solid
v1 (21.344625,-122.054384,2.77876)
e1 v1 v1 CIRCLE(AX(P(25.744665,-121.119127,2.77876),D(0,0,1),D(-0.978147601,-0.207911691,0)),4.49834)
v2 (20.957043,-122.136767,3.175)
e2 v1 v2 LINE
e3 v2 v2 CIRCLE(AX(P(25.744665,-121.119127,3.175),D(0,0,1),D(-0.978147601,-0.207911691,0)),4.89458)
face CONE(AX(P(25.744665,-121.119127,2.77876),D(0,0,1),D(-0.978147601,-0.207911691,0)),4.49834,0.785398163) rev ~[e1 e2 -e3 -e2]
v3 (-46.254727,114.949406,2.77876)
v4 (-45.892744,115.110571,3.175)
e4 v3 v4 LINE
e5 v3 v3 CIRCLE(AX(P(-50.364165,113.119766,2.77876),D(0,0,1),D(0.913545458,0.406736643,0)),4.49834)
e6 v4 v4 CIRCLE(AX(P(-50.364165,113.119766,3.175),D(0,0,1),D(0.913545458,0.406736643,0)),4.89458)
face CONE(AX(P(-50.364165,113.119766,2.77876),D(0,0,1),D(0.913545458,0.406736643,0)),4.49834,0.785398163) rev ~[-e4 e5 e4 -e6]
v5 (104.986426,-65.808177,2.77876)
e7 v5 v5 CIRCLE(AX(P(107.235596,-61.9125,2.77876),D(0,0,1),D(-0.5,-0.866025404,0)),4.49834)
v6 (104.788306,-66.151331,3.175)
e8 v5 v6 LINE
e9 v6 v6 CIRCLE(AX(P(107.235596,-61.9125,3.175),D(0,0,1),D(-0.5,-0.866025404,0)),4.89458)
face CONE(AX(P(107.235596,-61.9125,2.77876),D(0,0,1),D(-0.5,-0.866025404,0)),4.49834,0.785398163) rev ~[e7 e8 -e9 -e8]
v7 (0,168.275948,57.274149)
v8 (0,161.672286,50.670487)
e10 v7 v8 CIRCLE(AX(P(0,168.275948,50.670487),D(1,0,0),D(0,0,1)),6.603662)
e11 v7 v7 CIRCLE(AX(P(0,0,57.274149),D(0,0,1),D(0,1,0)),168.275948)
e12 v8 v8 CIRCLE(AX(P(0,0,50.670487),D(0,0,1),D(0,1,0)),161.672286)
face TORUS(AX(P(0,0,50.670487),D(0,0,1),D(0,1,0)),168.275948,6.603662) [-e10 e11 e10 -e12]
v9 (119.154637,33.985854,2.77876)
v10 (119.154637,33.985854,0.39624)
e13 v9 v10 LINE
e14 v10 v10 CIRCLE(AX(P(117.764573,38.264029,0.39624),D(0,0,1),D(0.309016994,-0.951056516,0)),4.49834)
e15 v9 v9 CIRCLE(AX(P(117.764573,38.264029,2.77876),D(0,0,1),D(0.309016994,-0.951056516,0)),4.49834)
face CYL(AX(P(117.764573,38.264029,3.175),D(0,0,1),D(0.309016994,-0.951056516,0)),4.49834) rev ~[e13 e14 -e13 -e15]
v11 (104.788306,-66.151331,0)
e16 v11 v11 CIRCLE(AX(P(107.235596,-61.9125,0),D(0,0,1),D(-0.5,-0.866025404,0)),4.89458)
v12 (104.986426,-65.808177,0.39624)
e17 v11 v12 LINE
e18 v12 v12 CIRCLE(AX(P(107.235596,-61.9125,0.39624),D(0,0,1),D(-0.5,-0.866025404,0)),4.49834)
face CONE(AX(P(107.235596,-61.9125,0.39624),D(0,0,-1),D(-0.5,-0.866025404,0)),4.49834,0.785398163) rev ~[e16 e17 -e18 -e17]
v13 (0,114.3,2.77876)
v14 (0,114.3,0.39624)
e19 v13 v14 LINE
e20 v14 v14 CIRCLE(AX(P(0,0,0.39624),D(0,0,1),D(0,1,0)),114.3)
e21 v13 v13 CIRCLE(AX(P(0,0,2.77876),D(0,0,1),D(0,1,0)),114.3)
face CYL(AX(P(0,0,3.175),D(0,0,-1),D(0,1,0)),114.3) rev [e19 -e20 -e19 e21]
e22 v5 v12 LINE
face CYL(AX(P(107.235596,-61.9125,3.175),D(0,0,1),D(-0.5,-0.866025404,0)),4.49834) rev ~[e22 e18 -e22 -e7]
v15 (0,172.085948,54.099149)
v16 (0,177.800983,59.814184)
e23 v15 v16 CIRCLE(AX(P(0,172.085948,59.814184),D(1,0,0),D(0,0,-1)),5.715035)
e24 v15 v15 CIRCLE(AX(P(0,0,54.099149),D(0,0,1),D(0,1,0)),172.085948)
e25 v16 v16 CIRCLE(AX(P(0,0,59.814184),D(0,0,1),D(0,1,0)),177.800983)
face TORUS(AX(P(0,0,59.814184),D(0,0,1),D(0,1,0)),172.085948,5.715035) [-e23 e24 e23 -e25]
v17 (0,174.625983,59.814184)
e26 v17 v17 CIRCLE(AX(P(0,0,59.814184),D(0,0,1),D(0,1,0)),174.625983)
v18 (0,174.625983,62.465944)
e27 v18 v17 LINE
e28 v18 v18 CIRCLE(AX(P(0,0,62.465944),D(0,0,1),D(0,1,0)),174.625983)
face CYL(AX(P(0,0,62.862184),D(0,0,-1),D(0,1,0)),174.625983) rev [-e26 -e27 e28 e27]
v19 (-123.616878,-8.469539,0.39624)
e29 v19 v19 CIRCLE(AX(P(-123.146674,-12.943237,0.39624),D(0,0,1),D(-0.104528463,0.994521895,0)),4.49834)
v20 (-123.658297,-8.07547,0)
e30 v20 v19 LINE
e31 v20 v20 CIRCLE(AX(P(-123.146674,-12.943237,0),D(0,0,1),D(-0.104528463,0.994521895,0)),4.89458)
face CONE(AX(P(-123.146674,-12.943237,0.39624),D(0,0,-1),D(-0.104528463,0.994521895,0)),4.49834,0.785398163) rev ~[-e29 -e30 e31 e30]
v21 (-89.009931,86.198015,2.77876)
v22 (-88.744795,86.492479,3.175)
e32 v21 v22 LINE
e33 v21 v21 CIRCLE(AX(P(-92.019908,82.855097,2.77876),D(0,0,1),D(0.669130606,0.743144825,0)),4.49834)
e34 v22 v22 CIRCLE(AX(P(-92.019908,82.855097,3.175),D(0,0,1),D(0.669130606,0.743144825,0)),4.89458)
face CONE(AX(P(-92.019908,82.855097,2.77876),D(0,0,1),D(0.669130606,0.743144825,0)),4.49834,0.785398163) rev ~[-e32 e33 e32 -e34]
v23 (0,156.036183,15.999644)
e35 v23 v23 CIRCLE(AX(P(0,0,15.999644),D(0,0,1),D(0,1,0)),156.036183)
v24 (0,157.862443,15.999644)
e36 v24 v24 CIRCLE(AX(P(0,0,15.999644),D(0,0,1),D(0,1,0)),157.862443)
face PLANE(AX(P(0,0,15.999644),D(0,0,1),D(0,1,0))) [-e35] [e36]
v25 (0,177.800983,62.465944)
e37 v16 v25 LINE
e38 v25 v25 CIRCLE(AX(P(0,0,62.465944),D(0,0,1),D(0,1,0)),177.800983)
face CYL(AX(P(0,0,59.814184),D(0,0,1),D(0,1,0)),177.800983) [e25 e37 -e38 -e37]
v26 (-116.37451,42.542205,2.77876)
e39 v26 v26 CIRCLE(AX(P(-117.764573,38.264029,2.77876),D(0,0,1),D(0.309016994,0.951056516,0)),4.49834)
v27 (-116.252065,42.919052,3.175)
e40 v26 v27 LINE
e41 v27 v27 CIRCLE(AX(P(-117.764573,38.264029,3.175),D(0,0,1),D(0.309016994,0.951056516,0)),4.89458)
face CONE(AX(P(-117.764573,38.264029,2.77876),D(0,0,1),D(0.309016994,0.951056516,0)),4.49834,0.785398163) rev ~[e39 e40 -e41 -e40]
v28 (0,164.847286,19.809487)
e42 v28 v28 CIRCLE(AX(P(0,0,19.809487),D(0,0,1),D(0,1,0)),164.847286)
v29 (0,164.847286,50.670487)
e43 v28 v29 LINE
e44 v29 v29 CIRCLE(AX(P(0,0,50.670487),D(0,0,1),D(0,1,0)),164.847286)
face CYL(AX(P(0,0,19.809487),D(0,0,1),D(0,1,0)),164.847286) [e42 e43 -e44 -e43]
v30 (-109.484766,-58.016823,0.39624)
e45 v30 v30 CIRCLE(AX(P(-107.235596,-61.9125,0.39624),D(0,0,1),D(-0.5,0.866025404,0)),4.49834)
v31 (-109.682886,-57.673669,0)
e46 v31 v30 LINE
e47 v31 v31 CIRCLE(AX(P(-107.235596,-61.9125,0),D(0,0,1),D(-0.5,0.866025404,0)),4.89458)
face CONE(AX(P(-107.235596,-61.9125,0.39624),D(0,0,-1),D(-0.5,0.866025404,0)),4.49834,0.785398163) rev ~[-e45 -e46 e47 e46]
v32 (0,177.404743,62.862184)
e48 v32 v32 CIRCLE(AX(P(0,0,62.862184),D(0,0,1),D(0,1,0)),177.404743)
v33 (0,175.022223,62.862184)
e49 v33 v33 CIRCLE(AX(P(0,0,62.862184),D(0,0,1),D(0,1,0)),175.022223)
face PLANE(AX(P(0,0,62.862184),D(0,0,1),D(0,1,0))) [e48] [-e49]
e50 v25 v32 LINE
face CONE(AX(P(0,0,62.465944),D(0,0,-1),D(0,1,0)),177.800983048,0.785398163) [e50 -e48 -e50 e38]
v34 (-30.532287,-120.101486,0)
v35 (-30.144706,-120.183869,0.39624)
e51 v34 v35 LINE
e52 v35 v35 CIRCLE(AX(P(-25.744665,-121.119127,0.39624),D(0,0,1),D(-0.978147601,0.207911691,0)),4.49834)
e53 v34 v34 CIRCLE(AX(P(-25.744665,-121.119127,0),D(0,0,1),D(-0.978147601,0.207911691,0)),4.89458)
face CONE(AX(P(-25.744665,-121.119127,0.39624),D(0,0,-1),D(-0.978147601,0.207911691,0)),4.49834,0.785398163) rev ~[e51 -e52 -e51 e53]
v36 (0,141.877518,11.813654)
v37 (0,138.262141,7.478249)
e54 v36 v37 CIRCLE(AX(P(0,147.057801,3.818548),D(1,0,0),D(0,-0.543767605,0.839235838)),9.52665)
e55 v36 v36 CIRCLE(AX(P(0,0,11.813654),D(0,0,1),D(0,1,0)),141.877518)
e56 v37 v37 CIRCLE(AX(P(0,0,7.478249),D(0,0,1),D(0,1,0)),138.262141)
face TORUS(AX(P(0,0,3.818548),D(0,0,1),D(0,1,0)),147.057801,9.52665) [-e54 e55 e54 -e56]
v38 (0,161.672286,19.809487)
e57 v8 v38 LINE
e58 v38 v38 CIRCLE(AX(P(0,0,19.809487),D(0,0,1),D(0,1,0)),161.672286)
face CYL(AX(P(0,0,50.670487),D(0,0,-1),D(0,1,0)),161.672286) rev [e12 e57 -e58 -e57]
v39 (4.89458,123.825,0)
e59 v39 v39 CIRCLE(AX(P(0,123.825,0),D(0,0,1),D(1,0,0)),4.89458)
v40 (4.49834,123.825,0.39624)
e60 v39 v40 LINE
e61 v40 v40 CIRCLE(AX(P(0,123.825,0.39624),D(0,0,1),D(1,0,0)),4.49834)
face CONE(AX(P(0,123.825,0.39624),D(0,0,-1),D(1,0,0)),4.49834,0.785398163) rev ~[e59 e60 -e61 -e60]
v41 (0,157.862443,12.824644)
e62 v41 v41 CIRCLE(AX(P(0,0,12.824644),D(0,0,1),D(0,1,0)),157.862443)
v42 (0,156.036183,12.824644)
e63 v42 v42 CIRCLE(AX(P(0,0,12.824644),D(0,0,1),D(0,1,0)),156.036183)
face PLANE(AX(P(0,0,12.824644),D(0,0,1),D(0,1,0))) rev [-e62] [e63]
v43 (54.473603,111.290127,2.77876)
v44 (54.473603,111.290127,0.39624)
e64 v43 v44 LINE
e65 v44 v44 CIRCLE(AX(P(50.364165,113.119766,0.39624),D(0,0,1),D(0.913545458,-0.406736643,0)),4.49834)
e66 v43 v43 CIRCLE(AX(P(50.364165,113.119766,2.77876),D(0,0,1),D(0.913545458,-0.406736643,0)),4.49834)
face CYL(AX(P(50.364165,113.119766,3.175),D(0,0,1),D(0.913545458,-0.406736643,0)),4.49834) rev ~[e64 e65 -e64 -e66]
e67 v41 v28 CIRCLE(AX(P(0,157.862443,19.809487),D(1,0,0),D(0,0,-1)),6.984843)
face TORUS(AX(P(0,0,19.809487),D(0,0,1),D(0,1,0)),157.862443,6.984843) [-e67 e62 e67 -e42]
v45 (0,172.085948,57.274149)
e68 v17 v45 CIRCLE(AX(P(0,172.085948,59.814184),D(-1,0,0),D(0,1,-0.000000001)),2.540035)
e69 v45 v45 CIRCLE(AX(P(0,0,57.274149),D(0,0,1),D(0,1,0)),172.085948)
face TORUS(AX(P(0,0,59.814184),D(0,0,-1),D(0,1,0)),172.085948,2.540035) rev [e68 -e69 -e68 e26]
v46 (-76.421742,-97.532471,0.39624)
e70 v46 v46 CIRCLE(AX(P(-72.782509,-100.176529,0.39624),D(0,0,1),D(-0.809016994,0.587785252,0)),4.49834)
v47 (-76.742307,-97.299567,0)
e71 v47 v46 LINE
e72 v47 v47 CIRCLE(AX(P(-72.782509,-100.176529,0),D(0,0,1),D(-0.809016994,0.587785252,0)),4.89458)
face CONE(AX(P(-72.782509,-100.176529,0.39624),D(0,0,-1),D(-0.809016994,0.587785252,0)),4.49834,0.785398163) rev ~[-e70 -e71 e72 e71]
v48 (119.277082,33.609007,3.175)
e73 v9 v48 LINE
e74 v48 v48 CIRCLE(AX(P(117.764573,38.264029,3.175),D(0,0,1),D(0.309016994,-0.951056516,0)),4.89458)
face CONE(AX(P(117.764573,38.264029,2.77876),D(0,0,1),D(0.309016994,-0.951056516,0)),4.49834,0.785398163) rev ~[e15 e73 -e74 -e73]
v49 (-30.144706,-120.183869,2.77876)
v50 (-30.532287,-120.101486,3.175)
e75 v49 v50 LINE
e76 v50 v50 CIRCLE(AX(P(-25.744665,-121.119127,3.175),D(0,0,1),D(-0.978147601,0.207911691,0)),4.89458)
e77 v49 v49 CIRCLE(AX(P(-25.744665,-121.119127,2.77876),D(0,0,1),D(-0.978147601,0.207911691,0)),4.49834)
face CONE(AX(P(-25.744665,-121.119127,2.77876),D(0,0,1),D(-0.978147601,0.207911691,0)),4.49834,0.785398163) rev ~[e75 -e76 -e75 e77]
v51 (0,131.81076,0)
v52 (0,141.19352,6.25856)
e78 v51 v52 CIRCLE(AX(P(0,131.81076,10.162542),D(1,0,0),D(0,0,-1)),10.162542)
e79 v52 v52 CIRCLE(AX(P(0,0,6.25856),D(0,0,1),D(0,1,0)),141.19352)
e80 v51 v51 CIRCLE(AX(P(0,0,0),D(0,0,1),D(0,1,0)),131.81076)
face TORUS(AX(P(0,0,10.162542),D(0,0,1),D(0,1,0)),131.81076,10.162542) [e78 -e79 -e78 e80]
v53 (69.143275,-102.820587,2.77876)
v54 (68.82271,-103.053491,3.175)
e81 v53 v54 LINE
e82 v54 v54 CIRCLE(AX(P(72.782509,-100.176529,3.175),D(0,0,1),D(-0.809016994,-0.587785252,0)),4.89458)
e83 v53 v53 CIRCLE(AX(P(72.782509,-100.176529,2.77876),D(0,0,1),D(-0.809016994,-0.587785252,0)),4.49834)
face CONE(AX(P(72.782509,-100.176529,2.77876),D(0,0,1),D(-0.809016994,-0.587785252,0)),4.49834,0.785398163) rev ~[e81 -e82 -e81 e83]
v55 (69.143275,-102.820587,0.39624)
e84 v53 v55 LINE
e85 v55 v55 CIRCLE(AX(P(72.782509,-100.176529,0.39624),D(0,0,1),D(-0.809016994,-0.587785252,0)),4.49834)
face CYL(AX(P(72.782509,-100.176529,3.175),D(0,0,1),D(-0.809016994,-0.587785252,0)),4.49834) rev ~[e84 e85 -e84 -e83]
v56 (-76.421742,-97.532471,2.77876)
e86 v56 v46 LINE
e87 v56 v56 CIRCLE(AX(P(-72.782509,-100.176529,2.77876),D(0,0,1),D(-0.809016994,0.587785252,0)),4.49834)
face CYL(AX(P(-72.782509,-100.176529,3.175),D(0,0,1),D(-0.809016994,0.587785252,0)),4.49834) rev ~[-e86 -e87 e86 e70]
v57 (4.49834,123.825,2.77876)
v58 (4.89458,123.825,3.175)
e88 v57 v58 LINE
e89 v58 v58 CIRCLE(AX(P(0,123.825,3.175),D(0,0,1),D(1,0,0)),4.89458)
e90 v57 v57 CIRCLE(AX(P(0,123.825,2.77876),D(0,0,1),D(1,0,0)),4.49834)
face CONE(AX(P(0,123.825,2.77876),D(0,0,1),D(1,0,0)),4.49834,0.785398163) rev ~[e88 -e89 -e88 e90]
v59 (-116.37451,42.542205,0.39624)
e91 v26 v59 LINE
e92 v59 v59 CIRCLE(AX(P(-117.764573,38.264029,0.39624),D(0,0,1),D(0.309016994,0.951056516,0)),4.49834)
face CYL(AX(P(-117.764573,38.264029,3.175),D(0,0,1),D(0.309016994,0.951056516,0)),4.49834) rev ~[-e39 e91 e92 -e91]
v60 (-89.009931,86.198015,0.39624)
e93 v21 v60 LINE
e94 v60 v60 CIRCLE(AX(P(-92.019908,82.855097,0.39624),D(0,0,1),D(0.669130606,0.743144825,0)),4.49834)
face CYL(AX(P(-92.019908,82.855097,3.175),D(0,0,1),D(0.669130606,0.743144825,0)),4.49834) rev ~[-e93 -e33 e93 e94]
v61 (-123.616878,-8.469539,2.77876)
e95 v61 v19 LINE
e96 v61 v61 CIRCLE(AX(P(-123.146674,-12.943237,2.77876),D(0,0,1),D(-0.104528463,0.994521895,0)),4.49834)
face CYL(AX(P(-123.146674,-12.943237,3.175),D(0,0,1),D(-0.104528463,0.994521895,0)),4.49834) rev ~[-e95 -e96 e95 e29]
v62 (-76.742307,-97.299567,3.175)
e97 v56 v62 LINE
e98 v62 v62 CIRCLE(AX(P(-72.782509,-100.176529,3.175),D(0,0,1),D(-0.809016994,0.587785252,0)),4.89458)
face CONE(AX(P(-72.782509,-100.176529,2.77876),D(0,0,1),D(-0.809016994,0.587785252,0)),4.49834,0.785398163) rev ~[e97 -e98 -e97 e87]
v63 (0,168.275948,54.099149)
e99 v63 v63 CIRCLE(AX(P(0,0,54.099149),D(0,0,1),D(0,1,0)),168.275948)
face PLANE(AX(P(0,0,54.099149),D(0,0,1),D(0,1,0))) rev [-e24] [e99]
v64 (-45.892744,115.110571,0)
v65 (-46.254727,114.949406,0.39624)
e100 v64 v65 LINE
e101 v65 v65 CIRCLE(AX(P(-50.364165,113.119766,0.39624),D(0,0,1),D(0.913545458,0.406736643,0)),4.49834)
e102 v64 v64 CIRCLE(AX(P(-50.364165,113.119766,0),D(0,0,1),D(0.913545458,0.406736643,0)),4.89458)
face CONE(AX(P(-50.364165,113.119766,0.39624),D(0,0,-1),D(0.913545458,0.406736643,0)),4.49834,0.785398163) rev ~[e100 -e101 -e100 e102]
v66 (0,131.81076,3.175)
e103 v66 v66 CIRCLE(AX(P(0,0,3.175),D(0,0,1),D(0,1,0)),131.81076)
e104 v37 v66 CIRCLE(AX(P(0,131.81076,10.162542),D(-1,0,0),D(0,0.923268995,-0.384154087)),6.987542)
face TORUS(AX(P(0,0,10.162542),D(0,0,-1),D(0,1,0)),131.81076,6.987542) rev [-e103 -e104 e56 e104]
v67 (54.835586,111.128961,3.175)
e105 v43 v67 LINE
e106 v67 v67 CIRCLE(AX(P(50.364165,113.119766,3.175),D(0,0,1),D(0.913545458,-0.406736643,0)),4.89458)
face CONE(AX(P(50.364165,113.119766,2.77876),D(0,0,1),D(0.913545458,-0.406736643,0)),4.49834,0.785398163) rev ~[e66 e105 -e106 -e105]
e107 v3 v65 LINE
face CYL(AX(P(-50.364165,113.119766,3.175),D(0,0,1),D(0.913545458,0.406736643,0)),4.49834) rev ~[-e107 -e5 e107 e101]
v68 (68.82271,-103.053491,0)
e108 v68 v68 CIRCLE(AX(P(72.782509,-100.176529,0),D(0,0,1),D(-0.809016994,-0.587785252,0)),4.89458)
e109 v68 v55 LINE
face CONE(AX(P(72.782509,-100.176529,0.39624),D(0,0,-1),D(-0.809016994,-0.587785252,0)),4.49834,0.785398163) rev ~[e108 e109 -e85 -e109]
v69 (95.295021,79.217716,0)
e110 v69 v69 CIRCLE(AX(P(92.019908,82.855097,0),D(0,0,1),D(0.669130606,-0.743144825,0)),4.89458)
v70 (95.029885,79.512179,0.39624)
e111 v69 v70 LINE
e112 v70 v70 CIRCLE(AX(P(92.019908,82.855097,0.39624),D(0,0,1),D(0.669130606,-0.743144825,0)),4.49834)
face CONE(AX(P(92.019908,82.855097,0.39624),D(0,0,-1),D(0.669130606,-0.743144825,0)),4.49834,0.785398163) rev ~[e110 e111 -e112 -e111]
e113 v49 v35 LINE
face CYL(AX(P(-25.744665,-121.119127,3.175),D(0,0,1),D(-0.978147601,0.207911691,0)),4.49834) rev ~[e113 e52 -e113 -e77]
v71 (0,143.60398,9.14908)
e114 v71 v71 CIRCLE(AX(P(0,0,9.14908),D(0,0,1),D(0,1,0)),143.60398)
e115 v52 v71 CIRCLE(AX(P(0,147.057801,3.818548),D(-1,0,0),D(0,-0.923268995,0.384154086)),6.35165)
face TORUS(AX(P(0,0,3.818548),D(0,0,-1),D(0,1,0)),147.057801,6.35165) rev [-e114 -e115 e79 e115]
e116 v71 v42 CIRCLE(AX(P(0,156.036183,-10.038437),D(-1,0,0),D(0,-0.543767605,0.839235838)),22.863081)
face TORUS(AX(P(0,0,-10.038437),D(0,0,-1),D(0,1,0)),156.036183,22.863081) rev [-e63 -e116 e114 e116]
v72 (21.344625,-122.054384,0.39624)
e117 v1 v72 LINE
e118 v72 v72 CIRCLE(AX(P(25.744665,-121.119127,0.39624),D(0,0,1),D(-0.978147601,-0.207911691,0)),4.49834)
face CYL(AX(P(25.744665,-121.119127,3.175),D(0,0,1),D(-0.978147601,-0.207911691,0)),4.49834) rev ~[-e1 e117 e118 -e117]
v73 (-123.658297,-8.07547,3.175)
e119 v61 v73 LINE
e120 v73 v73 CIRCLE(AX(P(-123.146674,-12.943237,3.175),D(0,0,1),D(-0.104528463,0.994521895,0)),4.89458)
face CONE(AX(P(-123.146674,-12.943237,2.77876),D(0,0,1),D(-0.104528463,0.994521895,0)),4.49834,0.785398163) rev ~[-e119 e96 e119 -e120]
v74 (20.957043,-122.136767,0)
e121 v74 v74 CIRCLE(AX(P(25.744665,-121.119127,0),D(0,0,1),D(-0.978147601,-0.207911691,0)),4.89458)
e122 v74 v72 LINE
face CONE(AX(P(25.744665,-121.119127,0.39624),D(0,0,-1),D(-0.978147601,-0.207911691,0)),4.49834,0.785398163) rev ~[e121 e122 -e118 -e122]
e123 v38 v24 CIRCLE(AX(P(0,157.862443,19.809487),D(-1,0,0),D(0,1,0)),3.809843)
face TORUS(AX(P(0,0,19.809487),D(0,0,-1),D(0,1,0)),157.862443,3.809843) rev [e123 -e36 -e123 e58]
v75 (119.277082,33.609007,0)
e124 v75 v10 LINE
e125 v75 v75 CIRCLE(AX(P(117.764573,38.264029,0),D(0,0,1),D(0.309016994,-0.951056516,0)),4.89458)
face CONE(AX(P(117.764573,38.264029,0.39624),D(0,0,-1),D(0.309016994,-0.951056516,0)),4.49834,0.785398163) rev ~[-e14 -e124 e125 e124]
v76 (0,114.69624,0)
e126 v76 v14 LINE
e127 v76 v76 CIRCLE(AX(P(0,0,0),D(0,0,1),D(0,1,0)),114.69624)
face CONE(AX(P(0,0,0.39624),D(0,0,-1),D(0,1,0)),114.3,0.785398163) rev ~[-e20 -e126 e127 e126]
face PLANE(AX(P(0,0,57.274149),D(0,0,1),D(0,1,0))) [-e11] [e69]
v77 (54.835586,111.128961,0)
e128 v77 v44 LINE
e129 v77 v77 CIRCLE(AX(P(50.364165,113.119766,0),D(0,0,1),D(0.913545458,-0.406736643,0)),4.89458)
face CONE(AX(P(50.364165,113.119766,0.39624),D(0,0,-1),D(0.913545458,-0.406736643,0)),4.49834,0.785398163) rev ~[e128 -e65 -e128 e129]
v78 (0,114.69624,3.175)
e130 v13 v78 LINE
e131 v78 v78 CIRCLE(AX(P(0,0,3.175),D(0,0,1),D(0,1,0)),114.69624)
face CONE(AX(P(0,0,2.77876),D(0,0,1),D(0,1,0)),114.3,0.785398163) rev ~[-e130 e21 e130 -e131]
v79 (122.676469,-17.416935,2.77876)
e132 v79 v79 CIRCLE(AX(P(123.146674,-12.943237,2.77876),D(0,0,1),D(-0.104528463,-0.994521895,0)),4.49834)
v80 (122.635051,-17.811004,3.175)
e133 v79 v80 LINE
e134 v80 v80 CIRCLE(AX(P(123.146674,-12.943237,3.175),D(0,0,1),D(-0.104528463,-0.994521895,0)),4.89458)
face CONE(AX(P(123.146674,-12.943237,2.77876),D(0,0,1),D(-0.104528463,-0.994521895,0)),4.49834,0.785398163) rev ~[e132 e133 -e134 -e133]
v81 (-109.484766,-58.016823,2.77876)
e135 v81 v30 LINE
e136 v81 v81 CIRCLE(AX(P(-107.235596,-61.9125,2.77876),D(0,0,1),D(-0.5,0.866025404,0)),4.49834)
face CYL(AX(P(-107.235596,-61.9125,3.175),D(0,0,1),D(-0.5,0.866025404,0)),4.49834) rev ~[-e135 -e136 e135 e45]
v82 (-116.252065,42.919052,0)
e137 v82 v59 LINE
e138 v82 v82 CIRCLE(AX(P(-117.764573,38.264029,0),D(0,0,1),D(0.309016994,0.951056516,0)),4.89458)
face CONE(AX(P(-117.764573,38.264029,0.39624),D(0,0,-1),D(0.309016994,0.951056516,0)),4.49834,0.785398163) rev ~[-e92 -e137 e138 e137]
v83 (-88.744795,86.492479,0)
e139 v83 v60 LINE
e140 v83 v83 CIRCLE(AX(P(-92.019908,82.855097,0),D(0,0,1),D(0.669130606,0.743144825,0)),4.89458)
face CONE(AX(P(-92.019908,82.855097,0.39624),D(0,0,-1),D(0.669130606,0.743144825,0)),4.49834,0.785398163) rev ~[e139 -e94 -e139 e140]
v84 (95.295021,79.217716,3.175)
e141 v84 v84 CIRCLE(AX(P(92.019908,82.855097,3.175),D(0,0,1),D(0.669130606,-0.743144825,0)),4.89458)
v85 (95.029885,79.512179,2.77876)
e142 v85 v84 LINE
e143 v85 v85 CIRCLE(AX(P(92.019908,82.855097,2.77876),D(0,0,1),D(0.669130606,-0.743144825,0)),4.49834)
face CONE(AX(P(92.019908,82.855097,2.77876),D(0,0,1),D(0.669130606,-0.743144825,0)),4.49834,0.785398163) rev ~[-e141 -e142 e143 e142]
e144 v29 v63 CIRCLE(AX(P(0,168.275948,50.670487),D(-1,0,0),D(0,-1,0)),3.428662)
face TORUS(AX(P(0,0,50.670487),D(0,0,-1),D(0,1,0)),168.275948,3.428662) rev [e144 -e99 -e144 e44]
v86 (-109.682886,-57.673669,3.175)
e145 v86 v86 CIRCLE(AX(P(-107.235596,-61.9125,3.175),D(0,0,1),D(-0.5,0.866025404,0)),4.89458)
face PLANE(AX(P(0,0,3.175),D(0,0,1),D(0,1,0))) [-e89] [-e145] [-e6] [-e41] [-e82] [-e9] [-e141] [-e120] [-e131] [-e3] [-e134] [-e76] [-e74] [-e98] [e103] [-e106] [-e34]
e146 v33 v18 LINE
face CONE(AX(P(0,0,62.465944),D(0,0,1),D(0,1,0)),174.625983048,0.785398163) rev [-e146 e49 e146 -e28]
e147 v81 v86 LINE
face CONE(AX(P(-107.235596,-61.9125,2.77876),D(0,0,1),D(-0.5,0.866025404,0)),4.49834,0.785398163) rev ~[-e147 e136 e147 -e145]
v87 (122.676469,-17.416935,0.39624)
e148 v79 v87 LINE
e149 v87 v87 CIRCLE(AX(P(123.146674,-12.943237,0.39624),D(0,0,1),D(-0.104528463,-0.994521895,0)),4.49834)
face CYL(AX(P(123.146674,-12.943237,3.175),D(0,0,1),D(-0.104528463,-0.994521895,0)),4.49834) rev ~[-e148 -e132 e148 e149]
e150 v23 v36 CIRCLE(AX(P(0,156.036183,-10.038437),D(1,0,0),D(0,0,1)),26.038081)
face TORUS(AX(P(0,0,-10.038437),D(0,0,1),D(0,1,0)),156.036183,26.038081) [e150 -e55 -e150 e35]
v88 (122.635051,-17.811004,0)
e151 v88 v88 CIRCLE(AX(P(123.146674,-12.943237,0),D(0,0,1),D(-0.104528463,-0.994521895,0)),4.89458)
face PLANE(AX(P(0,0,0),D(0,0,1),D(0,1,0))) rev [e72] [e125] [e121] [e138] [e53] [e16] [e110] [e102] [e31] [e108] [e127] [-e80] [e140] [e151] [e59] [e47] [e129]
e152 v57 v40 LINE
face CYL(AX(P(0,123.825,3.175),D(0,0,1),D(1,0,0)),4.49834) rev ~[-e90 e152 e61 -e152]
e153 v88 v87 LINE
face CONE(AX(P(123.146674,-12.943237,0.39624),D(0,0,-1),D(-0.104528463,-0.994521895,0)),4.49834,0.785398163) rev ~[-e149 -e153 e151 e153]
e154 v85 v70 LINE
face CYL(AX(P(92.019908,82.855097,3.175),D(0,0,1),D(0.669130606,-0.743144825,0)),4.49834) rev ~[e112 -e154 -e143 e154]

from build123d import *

# Parameters (mm, degrees)
SKETCH2_R                   = 4.49834
MOUNTING_HOLE_DEPTH         = 4.175
MOUNTING_HOLE_PATTERN_COUNT = 15
EDGE_CHAMFER_SIZE           = 0.39624


with BuildPart() as part:
    # Sketch1 → Inner Rim (revolve)
    with BuildSketch(Plane(origin=(0, 0, 0), x_dir=(0, 0, -1), z_dir=(1, 0, 0))):
        with BuildLine():
            Line((0, 114.3), (0, 131.81076))
            ThreePointArc((0, 131.81076), (-1.708204623, 137.450036516), (-6.25856, 141.19352))
            ThreePointArc((-6.25856, 141.19352), (-7.886461195, 142.179734532), (-9.14908, 143.60398))
            ThreePointArc((-9.14908, 143.60398), (-11.886505839, 149.554103055), (-12.824644135, 156.036183055))
            Line((-12.824644135, 156.036183055), (-12.824644135, 157.862443055))
            ThreePointArc((-12.824644135, 157.862443055), (-14.870457346, 162.801473055), (-19.809487346, 164.847286266))
            Line((-19.809487346, 164.847286266), (-50.670487346, 164.847286266))
            ThreePointArc((-50.670487346, 164.847286266), (-53.094917346, 165.851518053), (-54.099149133, 168.275948053))
            Line((-54.099149133, 168.275948053), (-54.099149133, 172.085948053))
            ThreePointArc((-54.099149133, 172.085948053), (-55.773044128, 176.127088053), (-59.814184128, 177.800983048))
            Line((-59.814184128, 177.800983048), (-62.862184128, 177.800983048))
            Line((-62.862184128, 177.800983048), (-62.862184128, 174.625983048))
            Line((-62.862184128, 174.625983048), (-59.814184128, 174.625983048))
            ThreePointArc((-59.814184128, 174.625983048), (-58.018108159, 173.882024022), (-57.274149133, 172.085948053))
            Line((-57.274149133, 172.085948053), (-57.274149133, 168.275948053))
            ThreePointArc((-57.274149133, 168.275948053), (-55.339981376, 163.606454022), (-50.670487346, 161.672286266))
            Line((-50.670487346, 161.672286266), (-19.809487346, 161.672286266))
            ThreePointArc((-19.809487346, 161.672286266), (-17.115521376, 160.556409025), (-15.999644135, 157.862443055))
            Line((-15.999644135, 157.862443055), (-15.999644135, 156.036183055))
            ThreePointArc((-15.999644135, 156.036183055), (-14.931226414, 148.653935506), (-11.813653785, 141.877517854))
            ThreePointArc((-11.813653785, 141.877517854), (-9.919889574, 139.741334641), (-7.478249224, 138.26214094))
            ThreePointArc((-7.478249224, 138.26214094), (-4.349524206, 135.68820342), (-3.175, 131.81076))
            Line((-3.175, 131.81076), (-3.175, 114.3))
            Line((-3.175, 114.3), (0, 114.3))
        make_face()
    revolve(axis=Axis((0, 0, -1.873109206), (0, 0, 1)))

    # Sketch2 → Mounting Hole (cut, through all)
    with BuildSketch(Plane.XY.offset(3.175)):
        with Locations((0, 123.825)):
            Circle(SKETCH2_R)
    mounting_hole = extrude(amount=-MOUNTING_HOLE_DEPTH, mode=Mode.SUBTRACT)

    # Mounting Hole Pattern: Mounting Hole ×15 about axis
    mounting_hole_pattern_axis = Axis((0, 0, 0), (0, 0, 1))
    for i in range(1, MOUNTING_HOLE_PATTERN_COUNT):
        add(mounting_hole.rotate(mounting_hole_pattern_axis, i * 360 / MOUNTING_HOLE_PATTERN_COUNT), mode=Mode.SUBTRACT)

    # Edge Chamfer
    edge_chamfer_edges = [part.edges().sort_by_distance(p)[0] for p in [
        (89.009931043, 86.198015427, 0),
        (89.009931043, 86.198015427, 3.175),
        (46.254726755, 114.949406004, 0),
        (46.254726755, 114.949406004, 3.175),
        (0, -114.3, 3.175),
        (0, -174.625983048, 62.862184128),
        (0, -177.800983048, 62.862184128),
        (0, -114.3, 0),
        (-4.49834, 123.825, 0),
        (-4.49834, 123.825, 3.175),
        (-54.473602903, 111.290126582, 0),
        (-54.473602903, 111.290126582, 3.175),
        (-95.029884987, 79.512179238, 0),
        (-95.029884987, 79.512179238, 3.175),
        (-119.154636637, 33.985853759, 0),
        (-119.154636637, 33.985853759, 3.175),
        (-122.676469127, -17.416934587, 0),
        (-122.676469127, -17.416934587, 3.175),
        (-104.986425624, -65.808176715, 0),
        (-104.986425624, -65.808176715, 3.175),
        (-69.143275359, -102.82058724, 0),
        (-69.143275359, -102.82058724, 3.175),
        (-21.344624637, -122.054384136, 0),
        (-21.344624637, -122.054384136, 3.175),
        (30.144705594, -120.183869186, 0),
        (30.144705594, -120.183869186, 3.175),
        (76.421742372, -97.532471417, 0),
        (76.421742372, -97.532471417, 3.175),
        (109.484765624, -58.016823285, 0),
        (109.484765624, -58.016823285, 3.175),
        (123.616878261, -8.469539341, 0),
        (123.616878261, -8.469539341, 3.175),
        (116.374509624, 42.542204898, 0),
        (116.374509624, 42.542204898, 3.175),
    ]]
    chamfer(edge_chamfer_edges, length=EDGE_CHAMFER_SIZE)


solid = part.part
